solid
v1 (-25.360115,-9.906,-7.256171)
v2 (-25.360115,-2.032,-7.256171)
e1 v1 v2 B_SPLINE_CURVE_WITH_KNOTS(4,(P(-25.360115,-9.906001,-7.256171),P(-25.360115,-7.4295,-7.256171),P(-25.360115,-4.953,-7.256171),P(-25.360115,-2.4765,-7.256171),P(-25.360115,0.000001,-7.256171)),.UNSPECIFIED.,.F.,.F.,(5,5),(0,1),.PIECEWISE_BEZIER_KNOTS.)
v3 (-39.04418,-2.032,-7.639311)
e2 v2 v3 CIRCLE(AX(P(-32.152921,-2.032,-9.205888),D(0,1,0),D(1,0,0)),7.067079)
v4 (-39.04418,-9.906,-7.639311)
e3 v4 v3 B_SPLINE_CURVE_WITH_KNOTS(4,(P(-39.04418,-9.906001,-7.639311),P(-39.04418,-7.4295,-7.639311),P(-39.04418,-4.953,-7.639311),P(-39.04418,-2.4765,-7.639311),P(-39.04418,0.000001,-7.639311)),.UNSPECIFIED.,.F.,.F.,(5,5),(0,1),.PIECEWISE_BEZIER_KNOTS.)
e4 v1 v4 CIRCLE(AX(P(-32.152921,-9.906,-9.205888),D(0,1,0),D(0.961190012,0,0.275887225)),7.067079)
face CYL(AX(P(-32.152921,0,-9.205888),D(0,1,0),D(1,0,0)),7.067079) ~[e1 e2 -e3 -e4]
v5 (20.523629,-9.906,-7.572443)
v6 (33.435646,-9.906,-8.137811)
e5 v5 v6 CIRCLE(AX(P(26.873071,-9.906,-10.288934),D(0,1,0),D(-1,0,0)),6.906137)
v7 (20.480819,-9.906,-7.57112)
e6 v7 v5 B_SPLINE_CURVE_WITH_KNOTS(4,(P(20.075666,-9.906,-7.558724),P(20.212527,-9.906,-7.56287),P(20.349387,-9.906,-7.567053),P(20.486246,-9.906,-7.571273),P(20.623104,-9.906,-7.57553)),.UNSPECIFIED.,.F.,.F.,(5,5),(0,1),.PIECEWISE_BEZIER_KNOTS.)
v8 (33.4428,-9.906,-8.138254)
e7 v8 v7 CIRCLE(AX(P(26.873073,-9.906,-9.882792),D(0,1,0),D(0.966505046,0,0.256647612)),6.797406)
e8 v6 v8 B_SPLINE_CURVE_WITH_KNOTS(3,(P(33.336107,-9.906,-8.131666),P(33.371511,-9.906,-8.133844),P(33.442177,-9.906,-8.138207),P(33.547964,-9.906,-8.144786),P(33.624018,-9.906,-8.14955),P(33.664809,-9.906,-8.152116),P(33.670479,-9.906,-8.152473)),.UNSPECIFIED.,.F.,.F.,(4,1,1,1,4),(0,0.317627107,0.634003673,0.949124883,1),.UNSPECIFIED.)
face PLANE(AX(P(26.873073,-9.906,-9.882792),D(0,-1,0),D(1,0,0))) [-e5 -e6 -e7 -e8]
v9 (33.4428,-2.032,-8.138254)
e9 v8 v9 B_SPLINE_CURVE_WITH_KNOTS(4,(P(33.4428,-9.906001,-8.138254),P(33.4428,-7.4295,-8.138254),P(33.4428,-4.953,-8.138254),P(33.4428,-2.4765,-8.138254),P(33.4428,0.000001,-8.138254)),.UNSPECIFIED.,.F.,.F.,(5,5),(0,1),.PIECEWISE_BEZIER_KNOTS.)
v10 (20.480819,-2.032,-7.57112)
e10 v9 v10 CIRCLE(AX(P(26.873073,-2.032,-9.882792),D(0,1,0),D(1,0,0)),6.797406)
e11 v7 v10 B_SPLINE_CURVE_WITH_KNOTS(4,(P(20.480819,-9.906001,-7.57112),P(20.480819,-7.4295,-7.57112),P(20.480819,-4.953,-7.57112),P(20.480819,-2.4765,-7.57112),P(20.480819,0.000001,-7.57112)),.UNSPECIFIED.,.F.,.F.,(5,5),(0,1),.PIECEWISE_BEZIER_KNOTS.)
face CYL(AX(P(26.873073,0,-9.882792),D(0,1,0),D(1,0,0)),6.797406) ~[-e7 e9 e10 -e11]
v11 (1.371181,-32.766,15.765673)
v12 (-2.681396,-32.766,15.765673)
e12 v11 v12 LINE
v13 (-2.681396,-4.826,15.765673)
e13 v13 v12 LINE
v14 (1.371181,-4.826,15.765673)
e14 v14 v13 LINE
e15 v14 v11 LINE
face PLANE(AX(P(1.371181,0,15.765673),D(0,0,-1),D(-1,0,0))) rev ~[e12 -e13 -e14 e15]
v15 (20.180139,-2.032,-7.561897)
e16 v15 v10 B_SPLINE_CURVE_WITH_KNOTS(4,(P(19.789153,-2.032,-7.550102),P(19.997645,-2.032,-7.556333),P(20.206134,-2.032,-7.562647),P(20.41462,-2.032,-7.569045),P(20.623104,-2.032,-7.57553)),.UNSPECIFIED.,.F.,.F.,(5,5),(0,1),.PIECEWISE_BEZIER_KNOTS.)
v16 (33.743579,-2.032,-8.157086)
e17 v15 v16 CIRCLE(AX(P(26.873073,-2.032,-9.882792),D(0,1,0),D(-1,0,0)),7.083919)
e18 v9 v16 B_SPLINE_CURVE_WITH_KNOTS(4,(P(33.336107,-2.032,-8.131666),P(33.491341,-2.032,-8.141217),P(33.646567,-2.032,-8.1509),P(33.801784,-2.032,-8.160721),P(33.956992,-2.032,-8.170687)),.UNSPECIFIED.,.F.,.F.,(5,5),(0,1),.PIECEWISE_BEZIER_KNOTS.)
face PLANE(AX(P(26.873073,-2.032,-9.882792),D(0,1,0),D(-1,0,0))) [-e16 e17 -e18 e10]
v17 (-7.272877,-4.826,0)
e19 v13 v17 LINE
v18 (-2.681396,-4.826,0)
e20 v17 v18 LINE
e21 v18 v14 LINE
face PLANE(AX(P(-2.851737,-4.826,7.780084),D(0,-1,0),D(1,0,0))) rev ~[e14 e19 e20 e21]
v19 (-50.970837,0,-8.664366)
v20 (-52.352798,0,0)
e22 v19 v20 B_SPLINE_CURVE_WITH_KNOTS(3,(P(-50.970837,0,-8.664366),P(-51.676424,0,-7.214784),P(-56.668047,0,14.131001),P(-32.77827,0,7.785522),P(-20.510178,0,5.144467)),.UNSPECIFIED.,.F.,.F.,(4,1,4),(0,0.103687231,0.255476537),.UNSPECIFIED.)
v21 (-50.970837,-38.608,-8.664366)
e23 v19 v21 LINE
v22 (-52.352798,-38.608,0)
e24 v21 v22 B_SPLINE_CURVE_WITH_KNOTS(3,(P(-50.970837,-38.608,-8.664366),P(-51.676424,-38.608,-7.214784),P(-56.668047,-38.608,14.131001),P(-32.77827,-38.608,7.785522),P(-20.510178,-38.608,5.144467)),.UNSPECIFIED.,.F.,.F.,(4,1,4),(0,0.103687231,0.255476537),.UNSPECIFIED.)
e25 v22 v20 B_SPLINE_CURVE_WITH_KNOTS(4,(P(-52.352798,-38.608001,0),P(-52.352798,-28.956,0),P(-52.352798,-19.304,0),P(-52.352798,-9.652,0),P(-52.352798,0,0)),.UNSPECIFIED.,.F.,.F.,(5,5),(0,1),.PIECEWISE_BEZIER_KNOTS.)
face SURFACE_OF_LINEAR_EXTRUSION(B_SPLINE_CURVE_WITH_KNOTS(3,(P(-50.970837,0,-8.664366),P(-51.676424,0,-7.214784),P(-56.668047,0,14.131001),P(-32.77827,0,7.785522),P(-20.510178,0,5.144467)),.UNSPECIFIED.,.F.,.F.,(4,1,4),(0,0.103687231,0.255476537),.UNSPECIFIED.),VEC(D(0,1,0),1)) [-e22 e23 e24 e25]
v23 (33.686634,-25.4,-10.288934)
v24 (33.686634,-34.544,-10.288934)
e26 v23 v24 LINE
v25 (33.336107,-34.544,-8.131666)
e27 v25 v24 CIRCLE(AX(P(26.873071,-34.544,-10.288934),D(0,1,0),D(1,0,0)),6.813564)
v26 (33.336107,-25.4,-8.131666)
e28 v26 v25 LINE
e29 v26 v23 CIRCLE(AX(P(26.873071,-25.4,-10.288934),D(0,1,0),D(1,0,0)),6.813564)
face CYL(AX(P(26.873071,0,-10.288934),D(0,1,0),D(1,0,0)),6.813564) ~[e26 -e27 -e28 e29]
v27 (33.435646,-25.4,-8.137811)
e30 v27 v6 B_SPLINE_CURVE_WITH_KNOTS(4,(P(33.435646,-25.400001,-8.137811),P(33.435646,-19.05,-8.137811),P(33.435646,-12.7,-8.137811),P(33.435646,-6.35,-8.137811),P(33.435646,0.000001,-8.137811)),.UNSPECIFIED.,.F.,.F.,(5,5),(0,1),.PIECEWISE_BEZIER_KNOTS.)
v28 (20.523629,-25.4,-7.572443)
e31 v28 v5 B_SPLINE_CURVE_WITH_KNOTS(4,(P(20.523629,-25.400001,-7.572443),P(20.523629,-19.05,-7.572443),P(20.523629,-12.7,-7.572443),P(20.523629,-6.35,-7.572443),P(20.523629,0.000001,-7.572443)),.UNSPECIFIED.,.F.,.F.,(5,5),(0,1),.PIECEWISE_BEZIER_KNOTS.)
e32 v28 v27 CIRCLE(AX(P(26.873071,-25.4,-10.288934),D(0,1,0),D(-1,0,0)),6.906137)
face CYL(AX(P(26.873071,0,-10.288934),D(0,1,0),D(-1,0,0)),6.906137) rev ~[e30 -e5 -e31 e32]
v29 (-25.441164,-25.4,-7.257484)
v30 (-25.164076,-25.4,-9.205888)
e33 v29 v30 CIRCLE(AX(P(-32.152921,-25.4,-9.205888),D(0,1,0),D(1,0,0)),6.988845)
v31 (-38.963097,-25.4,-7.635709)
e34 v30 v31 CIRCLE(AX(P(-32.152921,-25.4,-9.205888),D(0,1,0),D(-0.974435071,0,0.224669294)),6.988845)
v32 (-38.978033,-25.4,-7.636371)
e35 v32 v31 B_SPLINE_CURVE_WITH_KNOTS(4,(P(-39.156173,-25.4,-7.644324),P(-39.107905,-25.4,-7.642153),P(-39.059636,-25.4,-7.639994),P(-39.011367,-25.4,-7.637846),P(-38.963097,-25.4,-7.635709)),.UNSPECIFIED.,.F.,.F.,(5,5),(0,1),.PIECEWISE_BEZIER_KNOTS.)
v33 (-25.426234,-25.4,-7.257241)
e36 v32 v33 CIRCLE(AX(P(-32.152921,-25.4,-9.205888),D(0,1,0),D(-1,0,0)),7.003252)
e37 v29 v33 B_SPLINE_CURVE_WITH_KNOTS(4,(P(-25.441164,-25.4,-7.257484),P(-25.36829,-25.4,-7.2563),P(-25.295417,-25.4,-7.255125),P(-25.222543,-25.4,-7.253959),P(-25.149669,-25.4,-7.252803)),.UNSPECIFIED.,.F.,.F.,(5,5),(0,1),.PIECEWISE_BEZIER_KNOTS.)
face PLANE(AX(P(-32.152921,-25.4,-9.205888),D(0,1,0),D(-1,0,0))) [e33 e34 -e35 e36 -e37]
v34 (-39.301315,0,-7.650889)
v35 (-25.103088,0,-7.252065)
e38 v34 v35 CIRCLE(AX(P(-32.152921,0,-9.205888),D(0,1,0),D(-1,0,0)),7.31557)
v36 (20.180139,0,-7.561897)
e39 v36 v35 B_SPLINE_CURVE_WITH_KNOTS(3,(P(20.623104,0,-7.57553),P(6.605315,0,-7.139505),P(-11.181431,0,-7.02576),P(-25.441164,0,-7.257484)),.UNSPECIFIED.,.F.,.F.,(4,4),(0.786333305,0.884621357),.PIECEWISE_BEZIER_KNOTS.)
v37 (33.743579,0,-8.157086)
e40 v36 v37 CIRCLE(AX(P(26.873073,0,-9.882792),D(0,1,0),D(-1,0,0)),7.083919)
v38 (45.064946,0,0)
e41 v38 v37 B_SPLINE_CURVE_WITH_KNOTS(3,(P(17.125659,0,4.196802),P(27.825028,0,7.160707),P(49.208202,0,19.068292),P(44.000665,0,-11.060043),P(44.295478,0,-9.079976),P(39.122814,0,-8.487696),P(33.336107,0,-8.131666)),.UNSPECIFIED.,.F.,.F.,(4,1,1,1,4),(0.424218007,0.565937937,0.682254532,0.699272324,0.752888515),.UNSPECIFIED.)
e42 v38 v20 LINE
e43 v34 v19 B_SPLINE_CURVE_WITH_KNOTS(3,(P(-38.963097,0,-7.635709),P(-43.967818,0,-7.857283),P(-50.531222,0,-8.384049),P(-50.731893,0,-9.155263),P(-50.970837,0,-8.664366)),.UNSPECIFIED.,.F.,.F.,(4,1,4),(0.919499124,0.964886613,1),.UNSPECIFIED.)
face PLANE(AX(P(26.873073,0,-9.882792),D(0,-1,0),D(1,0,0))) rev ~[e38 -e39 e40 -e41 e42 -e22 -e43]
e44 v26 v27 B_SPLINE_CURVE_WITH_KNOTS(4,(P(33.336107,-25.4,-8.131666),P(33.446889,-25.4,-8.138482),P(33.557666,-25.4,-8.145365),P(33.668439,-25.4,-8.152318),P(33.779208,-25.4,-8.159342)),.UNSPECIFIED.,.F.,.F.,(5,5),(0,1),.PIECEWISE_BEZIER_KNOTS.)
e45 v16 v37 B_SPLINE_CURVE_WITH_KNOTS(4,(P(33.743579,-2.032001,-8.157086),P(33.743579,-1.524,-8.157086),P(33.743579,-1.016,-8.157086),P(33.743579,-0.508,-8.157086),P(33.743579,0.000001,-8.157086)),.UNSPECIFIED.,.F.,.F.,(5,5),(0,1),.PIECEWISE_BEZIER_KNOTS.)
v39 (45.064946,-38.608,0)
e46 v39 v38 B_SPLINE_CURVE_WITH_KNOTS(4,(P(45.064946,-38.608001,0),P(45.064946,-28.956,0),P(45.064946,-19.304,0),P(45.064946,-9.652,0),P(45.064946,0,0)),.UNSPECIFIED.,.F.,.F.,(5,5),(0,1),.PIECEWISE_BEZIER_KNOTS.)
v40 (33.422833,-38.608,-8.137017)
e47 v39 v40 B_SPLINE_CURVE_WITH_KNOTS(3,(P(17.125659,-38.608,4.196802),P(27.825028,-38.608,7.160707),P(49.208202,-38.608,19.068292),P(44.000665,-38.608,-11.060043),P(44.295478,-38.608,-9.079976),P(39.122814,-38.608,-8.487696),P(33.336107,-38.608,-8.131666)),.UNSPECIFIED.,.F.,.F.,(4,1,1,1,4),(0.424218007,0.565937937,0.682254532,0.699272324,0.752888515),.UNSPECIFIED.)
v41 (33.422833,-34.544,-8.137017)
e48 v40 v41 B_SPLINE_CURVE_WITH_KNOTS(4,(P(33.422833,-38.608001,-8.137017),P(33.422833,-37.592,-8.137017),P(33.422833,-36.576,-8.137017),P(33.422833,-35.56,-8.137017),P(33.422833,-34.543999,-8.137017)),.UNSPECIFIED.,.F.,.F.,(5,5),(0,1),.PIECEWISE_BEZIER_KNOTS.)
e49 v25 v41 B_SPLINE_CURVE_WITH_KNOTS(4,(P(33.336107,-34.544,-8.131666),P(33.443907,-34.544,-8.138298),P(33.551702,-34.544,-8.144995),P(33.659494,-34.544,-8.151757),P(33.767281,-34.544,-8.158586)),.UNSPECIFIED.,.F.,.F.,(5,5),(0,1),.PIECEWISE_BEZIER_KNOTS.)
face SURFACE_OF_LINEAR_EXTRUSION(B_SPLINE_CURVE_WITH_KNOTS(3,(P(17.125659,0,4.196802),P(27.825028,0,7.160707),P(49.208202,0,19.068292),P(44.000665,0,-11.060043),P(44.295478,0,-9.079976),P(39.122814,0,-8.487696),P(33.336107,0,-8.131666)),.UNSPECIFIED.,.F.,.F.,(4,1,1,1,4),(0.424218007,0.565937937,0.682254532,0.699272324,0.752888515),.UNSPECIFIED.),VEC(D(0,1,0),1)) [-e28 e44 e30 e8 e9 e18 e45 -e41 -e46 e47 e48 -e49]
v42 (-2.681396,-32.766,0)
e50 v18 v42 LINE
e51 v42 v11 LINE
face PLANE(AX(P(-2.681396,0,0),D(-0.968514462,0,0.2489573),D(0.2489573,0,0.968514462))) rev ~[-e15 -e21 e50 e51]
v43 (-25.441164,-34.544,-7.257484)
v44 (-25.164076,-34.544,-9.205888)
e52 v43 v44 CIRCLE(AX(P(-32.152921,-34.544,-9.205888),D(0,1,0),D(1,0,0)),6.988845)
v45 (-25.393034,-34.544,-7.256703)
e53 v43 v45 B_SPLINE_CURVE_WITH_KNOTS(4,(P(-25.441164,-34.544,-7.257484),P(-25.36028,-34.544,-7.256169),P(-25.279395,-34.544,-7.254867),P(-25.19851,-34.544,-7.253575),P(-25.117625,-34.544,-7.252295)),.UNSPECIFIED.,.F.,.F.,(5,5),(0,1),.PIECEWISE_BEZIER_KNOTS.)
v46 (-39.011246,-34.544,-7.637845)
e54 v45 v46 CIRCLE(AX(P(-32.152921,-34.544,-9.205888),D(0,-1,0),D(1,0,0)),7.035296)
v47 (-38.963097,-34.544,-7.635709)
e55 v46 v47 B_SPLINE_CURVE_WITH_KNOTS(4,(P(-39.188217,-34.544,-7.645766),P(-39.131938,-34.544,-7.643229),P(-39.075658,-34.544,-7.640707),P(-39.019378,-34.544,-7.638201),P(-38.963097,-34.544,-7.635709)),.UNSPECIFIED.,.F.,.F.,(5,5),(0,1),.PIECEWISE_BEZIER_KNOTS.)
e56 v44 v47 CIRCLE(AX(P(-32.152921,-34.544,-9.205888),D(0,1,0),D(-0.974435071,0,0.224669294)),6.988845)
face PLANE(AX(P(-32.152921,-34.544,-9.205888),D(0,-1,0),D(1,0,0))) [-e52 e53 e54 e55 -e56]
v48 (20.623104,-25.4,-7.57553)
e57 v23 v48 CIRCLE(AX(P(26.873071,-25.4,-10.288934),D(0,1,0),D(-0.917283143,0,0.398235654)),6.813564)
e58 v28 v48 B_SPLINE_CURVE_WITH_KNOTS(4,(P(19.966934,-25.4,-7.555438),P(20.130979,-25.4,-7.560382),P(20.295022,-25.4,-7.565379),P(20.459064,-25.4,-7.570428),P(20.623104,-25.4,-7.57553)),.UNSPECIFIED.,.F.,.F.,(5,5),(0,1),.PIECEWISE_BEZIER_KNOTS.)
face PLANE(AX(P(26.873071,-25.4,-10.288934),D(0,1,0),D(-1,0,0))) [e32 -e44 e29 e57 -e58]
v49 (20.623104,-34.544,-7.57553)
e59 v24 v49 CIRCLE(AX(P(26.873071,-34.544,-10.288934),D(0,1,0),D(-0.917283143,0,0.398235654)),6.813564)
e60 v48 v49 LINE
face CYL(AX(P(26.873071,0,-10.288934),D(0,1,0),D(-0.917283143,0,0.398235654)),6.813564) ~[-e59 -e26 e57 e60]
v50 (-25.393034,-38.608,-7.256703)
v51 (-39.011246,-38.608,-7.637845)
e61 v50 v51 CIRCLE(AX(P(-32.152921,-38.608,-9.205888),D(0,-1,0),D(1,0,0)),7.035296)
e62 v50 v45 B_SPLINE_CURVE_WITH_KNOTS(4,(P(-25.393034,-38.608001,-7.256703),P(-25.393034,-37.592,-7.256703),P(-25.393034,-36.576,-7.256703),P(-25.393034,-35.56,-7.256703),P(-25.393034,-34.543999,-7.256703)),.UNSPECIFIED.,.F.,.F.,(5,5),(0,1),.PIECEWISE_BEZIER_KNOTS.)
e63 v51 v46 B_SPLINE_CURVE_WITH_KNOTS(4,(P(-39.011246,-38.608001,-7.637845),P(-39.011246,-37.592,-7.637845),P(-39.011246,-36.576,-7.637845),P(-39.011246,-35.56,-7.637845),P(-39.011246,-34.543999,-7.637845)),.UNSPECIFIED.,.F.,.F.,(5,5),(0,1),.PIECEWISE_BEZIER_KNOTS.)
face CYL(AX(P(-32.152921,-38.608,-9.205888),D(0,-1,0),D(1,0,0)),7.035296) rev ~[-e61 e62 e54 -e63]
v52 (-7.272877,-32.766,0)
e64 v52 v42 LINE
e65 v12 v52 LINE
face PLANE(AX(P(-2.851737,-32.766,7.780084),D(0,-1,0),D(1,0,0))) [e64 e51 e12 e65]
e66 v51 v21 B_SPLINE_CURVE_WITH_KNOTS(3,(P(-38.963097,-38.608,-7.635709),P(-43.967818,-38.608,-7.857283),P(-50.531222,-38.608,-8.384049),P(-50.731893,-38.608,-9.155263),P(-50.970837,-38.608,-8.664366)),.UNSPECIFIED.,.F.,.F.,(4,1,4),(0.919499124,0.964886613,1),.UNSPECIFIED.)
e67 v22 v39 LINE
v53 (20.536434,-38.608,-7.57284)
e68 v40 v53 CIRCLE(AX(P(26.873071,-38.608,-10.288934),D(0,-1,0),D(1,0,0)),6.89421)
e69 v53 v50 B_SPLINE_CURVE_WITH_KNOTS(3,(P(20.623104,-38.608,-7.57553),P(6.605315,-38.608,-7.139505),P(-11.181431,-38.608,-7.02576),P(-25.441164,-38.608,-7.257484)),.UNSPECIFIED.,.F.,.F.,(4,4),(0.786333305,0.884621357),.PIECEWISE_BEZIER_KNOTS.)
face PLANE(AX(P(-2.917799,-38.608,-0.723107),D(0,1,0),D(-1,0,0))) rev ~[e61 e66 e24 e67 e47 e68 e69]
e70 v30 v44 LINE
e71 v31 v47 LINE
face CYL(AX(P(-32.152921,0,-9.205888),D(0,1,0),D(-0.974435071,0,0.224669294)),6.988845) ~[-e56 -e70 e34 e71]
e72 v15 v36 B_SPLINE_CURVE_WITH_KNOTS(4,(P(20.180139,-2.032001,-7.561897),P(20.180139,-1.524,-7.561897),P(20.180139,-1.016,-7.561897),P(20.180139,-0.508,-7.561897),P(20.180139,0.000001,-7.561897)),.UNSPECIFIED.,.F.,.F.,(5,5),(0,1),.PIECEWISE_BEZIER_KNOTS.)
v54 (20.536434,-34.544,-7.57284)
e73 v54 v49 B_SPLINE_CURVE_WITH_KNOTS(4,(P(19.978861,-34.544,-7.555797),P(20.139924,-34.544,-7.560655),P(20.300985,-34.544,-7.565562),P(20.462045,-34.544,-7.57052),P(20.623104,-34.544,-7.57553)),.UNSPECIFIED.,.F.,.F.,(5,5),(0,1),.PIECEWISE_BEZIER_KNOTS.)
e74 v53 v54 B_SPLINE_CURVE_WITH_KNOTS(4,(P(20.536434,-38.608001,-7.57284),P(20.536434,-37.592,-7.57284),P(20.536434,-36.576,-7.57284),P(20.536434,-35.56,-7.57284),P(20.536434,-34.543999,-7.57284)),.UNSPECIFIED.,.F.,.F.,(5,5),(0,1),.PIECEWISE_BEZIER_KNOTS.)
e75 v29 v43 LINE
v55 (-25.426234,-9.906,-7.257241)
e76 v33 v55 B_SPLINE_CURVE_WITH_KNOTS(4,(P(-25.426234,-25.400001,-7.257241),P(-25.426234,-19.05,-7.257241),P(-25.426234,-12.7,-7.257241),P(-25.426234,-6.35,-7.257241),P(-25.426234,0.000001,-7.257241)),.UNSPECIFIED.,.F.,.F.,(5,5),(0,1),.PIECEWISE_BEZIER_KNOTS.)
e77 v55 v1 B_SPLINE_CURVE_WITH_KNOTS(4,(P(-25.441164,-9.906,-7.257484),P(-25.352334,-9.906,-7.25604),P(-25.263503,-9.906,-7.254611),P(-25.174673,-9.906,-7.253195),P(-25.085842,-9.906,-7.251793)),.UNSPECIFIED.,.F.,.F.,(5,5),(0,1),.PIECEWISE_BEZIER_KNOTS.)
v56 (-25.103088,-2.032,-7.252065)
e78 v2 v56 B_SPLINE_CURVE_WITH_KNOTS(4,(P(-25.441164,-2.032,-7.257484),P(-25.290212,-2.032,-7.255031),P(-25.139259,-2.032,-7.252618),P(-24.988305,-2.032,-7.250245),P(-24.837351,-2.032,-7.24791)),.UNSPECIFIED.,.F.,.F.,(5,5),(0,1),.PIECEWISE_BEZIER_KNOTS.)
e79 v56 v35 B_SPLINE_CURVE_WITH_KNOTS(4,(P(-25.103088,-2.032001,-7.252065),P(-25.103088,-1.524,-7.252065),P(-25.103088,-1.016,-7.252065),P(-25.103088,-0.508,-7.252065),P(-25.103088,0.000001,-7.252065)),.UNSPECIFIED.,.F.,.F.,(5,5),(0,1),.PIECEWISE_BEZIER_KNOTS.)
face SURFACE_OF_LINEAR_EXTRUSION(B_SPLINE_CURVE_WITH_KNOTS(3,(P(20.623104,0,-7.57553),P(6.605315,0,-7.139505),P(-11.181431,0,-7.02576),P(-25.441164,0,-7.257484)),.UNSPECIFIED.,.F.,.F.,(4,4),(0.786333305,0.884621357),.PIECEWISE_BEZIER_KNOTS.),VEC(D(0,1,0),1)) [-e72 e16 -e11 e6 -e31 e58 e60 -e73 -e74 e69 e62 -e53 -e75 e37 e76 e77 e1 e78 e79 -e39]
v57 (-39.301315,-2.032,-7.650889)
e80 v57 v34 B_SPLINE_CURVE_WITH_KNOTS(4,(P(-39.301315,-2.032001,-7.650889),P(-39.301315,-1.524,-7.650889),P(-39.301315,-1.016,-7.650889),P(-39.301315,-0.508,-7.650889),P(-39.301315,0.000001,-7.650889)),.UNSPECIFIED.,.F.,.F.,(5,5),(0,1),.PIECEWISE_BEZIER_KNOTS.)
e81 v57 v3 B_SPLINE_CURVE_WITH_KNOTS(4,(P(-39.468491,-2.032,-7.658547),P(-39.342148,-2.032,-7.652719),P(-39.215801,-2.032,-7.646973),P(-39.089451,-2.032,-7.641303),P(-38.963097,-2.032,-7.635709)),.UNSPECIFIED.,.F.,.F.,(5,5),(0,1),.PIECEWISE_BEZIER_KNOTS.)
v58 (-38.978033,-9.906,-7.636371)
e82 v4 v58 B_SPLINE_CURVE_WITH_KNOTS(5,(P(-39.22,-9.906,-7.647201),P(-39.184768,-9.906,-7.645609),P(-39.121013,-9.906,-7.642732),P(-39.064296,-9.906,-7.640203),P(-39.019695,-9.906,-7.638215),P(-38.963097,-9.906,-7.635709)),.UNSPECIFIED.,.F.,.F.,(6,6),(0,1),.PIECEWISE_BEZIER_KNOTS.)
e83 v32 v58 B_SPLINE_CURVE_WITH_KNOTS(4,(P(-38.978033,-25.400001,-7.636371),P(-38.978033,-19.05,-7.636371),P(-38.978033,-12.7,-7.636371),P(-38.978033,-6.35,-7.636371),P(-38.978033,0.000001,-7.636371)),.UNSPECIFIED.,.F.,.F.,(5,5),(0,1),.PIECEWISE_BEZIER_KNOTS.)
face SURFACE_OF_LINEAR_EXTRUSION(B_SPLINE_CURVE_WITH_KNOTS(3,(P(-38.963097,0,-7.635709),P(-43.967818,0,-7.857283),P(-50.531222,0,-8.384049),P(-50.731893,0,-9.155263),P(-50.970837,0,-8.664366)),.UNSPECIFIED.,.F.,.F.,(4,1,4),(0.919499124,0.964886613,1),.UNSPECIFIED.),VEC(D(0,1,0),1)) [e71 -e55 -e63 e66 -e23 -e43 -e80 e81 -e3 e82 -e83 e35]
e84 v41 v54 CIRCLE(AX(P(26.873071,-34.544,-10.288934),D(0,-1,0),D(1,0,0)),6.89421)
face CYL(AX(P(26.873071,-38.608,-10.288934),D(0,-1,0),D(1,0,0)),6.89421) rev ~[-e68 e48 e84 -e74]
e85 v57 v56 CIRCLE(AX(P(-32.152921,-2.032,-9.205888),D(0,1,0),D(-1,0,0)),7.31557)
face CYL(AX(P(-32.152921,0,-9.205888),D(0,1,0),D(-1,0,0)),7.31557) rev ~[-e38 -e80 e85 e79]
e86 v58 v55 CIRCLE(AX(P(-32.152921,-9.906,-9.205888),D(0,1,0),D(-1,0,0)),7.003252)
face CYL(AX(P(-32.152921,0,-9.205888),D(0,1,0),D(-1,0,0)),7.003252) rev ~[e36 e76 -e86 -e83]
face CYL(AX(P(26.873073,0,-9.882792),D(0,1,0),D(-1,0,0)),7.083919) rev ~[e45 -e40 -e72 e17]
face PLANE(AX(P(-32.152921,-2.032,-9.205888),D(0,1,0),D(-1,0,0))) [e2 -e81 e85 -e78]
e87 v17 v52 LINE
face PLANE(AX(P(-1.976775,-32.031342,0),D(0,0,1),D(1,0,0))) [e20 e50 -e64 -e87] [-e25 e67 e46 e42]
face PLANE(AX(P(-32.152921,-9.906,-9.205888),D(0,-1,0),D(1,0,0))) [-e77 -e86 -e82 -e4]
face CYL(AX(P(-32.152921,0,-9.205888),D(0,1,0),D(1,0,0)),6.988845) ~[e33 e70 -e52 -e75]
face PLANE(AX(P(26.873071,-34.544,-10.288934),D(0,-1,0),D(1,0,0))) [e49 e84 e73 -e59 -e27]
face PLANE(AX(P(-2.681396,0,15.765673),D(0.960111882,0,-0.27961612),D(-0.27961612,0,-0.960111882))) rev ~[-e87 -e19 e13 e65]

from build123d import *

# Parameters (mm, degrees)
F1_DEPTH  = 38.608
F2_R      = 7.0352957833
F2_R_2    = 6.8942098371
F3_DEPTH  = 4.064
F4_R      = 6.9061369056
F4_R_2    = 7.0032523294
F5_DEPTH  = 25.4
F6_R      = 6.7974062875
F6_R_2    = 7.0670792708
F7_DEPTH  = 9.906
F8_R      = 7.0839194792
F8_R_2    = 7.3155698598
F9_DEPTH  = 2.032
F10_W     = 110.3830970824
F10_H     = 64.0626847744
F11_DEPTH = 38.354
F13_DEPTH = 32.766
F14_DEPTH = 4.826


with BuildPart() as f1:
    # F0 (on Front) → F1 (new body)
    with BuildSketch(Plane.XZ):
        with BuildLine():
            add(Edge.make_bspline(
                [(-50.9708374739, -8.6643658578), (-51.6764241048, -7.2147838565), (-56.6680468011, 14.1310014328), (-32.778270088, 7.7855221601), (-20.5101780593, 5.1444671117)],
                knots=[0, 0, 0, 0, 0.1036872314, 0.2554765371, 0.2554765371, 0.2554765371, 0.2554765371], degree=3))
            add(Edge.make_bspline(
                [(-38.9630969329, -7.6357090919), (-43.9678175587, -7.8572834082), (-50.5312216285, -8.3840487695), (-50.731892562, -9.1552626922), (-50.9708374739, -8.6643658578)],
                knots=[0.9194991242, 0.9194991242, 0.9194991242, 0.9194991242, 0.9648866131, 1, 1, 1, 1], degree=3))
            ThreePointArc((-38.9630969329, -7.6357090919), (-32.3483311959, -2.2197751265), (-25.44116412, -7.2574838775))
            add(Edge.make_bspline(
                [(20.6231035978, -7.5755302185), (6.6053154805, -7.1395050723), (-11.181431197, -7.0257595254), (-25.44116412, -7.2574838775)],
                knots=[0.7863333046, 0.7863333046, 0.7863333046, 0.7863333046, 0.8846213572, 0.8846213572, 0.8846213572, 0.8846213572], degree=3))
            ThreePointArc((20.6231035978, -7.5755302185), (27.1708481143, -3.481880581), (33.3361074687, -8.1316658126))
            add(Edge.make_bspline(
                [(17.1256586909, 4.1968021542), (27.8250281811, 7.1607071234), (49.2082024264, 19.0682921332), (44.0006654599, -11.0600429847), (44.295477565, -9.0799760137), (39.1228140151, -8.4876956386), (33.3361074687, -8.1316658126)],
                knots=[0.4242180071, 0.4242180071, 0.4242180071, 0.4242180071, 0.5659379372, 0.682254532, 0.6992723243, 0.7528885146, 0.7528885146, 0.7528885146, 0.7528885146], degree=3))
            add(Edge.make_bspline(
                [(5.3475378081, 2.2527588984), (9.2067942373, 2.4702699417), (13.0919783606, 3.0794049855), (17.1256586909, 4.1968021542)],
                knots=[0.3707893546, 0.3707893546, 0.3707893546, 0.3707893546, 0.4242180071, 0.4242180071, 0.4242180071, 0.4242180071], degree=3))
            add(Edge.make_bspline(
                [(-10.6273861602, 3.2551616229), (-5.1427583305, 2.3888725145), (0.0782220525, 1.9557756871), (5.3475378081, 2.2527588984)],
                knots=[0.2978394365, 0.2978394365, 0.2978394365, 0.2978394365, 0.3707893546, 0.3707893546, 0.3707893546, 0.3707893546], degree=3))
            add(Edge.make_bspline(
                [(-20.5101780593, 5.1444671117), (-17.0862744645, 4.4073746727), (-13.8123758552, 3.7582261824), (-10.6273861602, 3.2551616229)],
                knots=[0.2554765371, 0.2554765371, 0.2554765371, 0.2554765371, 0.2978394365, 0.2978394365, 0.2978394365, 0.2978394365], degree=3))
        make_face()
        with BuildLine():
            Line((-15.6364720315, 12.861168012), (-20.5101780593, 5.1444671117))
            add(Edge.make_bspline(
                [(-20.5101780593, 5.1444671117), (-17.0862744645, 4.4073746727), (-13.8123758552, 3.7582261824), (-10.6273861602, 3.2551616229)],
                knots=[0.2554765371, 0.2554765371, 0.2554765371, 0.2554765371, 0.2978394365, 0.2978394365, 0.2978394365, 0.2978394365], degree=3))
            Line((-10.6273861602, 3.2551616229), (-10.6273861602, 12.1297687412))
            add(Edge.make_bspline(
                [(-10.6273861602, 12.1297687412), (-13.130114225, 12.2753750754), (-15.0305665499, 12.5157869714), (-15.6364720315, 12.861168012)],
                knots=[0.8926757915, 0.8926757915, 0.8926757915, 0.8926757915, 1, 1, 1, 1], degree=3))
        make_face()
        with BuildLine():
            ThreePointArc((-25.44116412, -7.2574838775), (-32.3483311959, -2.2197751265), (-38.9630969329, -7.6357090919))
            add(Edge.make_bspline(
                [(-25.44116412, -7.2574838775), (-30.5012668446, -7.339711857), (-35.1172468017, -7.4654415232), (-38.9630969329, -7.6357090919)],
                knots=[0.8846213572, 0.8846213572, 0.8846213572, 0.8846213572, 0.9194991242, 0.9194991242, 0.9194991242, 0.9194991242], degree=3))
        make_face()
        with BuildLine():
            add(Edge.make_bspline(
                [(-25.44116412, -7.2574838775), (-30.5012668446, -7.339711857), (-35.1172468017, -7.4654415232), (-38.9630969329, -7.6357090919)],
                knots=[0.8846213572, 0.8846213572, 0.8846213572, 0.8846213572, 0.9194991242, 0.9194991242, 0.9194991242, 0.9194991242], degree=3))
            ThreePointArc((-38.9630969329, -7.6357090919), (-32.9430767418, -16.1499223384), (-25.1640756609, -9.205888029))
            ThreePointArc((-25.1640756609, -9.205888029), (-25.2336945272, -8.2218838685), (-25.44116412, -7.2574838775))
        make_face()
        with BuildLine():
            add(Edge.make_bspline(
                [(-15.6364720315, 12.861168012), (-16.2165394584, 13.1918207254), (-13.3961396635, 15.1770892142), (5.9974038069, 14.9185118711), (9.9470952963, 13.1956623398), (9.2735784128, 12.861168012)],
                knots=[0, 0, 0, 0, 0.1027475066, 0.4778646238, 0.598358785, 0.598358785, 0.598358785, 0.598358785], degree=3))
            Line((-15.6364720315, 12.861168012), (-10.6273861602, 12.861168012))
            Line((-10.6273861602, 12.861168012), (5.3475378081, 12.861168012))
            Line((5.3475378081, 12.861168012), (9.2735784128, 12.861168012))
        make_face()
        with BuildLine():
            Line((-10.6273861602, 12.861168012), (-15.6364720315, 12.861168012))
            add(Edge.make_bspline(
                [(-10.6273861602, 12.1297687412), (-13.130114225, 12.2753750754), (-15.0305665499, 12.5157869714), (-15.6364720315, 12.861168012)],
                knots=[0.8926757915, 0.8926757915, 0.8926757915, 0.8926757915, 1, 1, 1, 1], degree=3))
            Line((-10.6273861602, 12.1297687412), (-10.6273861602, 12.861168012))
        make_face()
        with BuildLine():
            Line((5.3475378081, 12.2518344839), (5.3475378081, 2.2527588984))
            add(Edge.make_bspline(
                [(5.3475378081, 2.2527588984), (9.2067942373, 2.4702699417), (13.0919783606, 3.0794049855), (17.1256586909, 4.1968021542)],
                knots=[0.3707893546, 0.3707893546, 0.3707893546, 0.3707893546, 0.4242180071, 0.4242180071, 0.4242180071, 0.4242180071], degree=3))
            Line((17.1256586909, 4.1968021542), (9.2735784128, 12.861168012))
            add(Edge.make_bspline(
                [(9.2735784128, 12.861168012), (8.7626184416, 12.6074056843), (7.311352843, 12.4022011398), (5.3475378081, 12.2518344839)],
                knots=[0.598358785, 0.598358785, 0.598358785, 0.598358785, 0.6897710341, 0.6897710341, 0.6897710341, 0.6897710341], degree=3))
        make_face()
        with BuildLine():
            add(Edge.make_bspline(
                [(9.2735784128, 12.861168012), (8.7626184416, 12.6074056843), (7.311352843, 12.4022011398), (5.3475378081, 12.2518344839)],
                knots=[0.598358785, 0.598358785, 0.598358785, 0.598358785, 0.6897710341, 0.6897710341, 0.6897710341, 0.6897710341], degree=3))
            Line((9.2735784128, 12.861168012), (5.3475378081, 12.861168012))
            Line((5.3475378081, 12.861168012), (5.3475378081, 12.2518344839))
        make_face()
        with BuildLine():
            ThreePointArc((33.3361074687, -8.1316658126), (27.1708481143, -3.481880581), (20.6231035978, -7.5755302185))
            add(Edge.make_bspline(
                [(33.3361074687, -8.1316658126), (29.7264667198, -7.9095809777), (25.3929811931, -7.7238978895), (20.6231035978, -7.5755302185)],
                knots=[0.7528885146, 0.7528885146, 0.7528885146, 0.7528885146, 0.7863333046, 0.7863333046, 0.7863333046, 0.7863333046], degree=3))
        make_face()
        with BuildLine():
            add(Edge.make_bspline(
                [(33.3361074687, -8.1316658126), (29.7264667198, -7.9095809777), (25.3929811931, -7.7238978895), (20.6231035978, -7.5755302185)],
                knots=[0.7528885146, 0.7528885146, 0.7528885146, 0.7528885146, 0.7863333046, 0.7863333046, 0.7863333046, 0.7863333046], degree=3))
            ThreePointArc((20.6231035978, -7.5755302185), (25.4874118422, -16.9601110372), (33.6866344744, -10.2889342245))
            ThreePointArc((33.6866344744, -10.2889342245), (33.5984318244, -9.1961538048), (33.3361074687, -8.1316658126))
        make_face()
    extrude(amount=F1_DEPTH)

    # F2 (on face) → F3 (cut)
    with BuildSketch(Plane.XZ.offset(38.608)):
        with Locations((-32.1529209622, -9.205888029)):
            Circle(F2_R)
        with Locations((26.873070747, -10.2889342245)):
            Circle(F2_R_2)
        with BuildLine():
            add(Edge.make_bspline(
                [(-25.44116412, -7.2574838775), (-25.4251253567, -7.2572232435), (-25.4090821313, -7.2569630465), (-25.3930344544, -7.2567032865)],
                knots=[0.3708551799, 0.3708551799, 0.3708551799, 0.3708551799, 0.3709657302, 0.3709657302, 0.3709657302, 0.3709657302], degree=3))
            ThreePointArc((-25.3930344544, -7.2567032865), (-32.3497452329, -2.1733460302), (-39.011246385, -7.6378449323))
            add(Edge.make_bspline(
                [(-39.011246385, -7.6378449323), (-38.9952100188, -7.6371322084), (-38.9791601935, -7.6364202617), (-38.9630969329, -7.6357090919)],
                knots=[0.3358317362, 0.3358317362, 0.3358317362, 0.3358317362, 0.3359774128, 0.3359774128, 0.3359774128, 0.3359774128], degree=3))
            ThreePointArc((-38.9630969329, -7.6357090919), (-31.9575107286, -16.1920009316), (-25.44116412, -7.2574838775))
        make_face()
    extrude(amount=-F3_DEPTH, mode=Mode.SUBTRACT)

    # F4 (on face) → F5 (cut)
    with BuildSketch(Plane(origin=(0, 0, 0), x_dir=(-1, 0, 0), z_dir=(0, 1, 0))):
        with Locations((-26.873070747, -10.2889342245)):
            Circle(F4_R)
        with Locations((32.1529209622, -9.205888029)):
            Circle(F4_R_2)
    extrude(amount=-F5_DEPTH, mode=Mode.SUBTRACT)

    # F6 (on Front) → F7 (join)
    with BuildSketch(Plane.XZ):
        with Locations((26.8730726093, -9.8827918991)):
            Circle(F6_R)
        with Locations((-32.1529209614, -9.2058880255)):
            Circle(F6_R_2)
    extrude(amount=F7_DEPTH)

    # F8 (on face) → F9 (cut)
    with BuildSketch(Plane(origin=(0, 0, 0), x_dir=(-1, 0, 0), z_dir=(0, 1, 0))):
        with Locations((-26.8730726093, -9.8827918991)):
            Circle(F8_R)
        with Locations((32.1529209614, -9.2058880255)):
            Circle(F8_R_2)
    extrude(amount=-F9_DEPTH, mode=Mode.SUBTRACT)

    # F10 (on Top) → F11 (cut)
    with BuildSketch(Plane.XY):
        with Locations((-1.9767750055, -32.0313423872)):
            Rectangle(F10_W, F10_H)
    extrude(amount=F11_DEPTH, mode=Mode.SUBTRACT)

    # F12 (on Front) → F13 (join)
    with BuildSketch(Plane.XZ):
        Polygon((-2.6813955046, 15.7656725496), (-7.2728772648, 0), (-2.6813955046, 0), (1.3711813372, 15.7656725496), align=None)
    extrude(amount=F13_DEPTH)

    # F12 (on Front) → F14 (cut)
    with BuildSketch(Plane.XZ):
        Polygon((-2.6813955046, 15.7656725496), (-7.2728772648, 0), (-2.6813955046, 0), (1.3711813372, 15.7656725496), align=None)
    extrude(amount=F14_DEPTH, mode=Mode.SUBTRACT)


solid = f1.part
